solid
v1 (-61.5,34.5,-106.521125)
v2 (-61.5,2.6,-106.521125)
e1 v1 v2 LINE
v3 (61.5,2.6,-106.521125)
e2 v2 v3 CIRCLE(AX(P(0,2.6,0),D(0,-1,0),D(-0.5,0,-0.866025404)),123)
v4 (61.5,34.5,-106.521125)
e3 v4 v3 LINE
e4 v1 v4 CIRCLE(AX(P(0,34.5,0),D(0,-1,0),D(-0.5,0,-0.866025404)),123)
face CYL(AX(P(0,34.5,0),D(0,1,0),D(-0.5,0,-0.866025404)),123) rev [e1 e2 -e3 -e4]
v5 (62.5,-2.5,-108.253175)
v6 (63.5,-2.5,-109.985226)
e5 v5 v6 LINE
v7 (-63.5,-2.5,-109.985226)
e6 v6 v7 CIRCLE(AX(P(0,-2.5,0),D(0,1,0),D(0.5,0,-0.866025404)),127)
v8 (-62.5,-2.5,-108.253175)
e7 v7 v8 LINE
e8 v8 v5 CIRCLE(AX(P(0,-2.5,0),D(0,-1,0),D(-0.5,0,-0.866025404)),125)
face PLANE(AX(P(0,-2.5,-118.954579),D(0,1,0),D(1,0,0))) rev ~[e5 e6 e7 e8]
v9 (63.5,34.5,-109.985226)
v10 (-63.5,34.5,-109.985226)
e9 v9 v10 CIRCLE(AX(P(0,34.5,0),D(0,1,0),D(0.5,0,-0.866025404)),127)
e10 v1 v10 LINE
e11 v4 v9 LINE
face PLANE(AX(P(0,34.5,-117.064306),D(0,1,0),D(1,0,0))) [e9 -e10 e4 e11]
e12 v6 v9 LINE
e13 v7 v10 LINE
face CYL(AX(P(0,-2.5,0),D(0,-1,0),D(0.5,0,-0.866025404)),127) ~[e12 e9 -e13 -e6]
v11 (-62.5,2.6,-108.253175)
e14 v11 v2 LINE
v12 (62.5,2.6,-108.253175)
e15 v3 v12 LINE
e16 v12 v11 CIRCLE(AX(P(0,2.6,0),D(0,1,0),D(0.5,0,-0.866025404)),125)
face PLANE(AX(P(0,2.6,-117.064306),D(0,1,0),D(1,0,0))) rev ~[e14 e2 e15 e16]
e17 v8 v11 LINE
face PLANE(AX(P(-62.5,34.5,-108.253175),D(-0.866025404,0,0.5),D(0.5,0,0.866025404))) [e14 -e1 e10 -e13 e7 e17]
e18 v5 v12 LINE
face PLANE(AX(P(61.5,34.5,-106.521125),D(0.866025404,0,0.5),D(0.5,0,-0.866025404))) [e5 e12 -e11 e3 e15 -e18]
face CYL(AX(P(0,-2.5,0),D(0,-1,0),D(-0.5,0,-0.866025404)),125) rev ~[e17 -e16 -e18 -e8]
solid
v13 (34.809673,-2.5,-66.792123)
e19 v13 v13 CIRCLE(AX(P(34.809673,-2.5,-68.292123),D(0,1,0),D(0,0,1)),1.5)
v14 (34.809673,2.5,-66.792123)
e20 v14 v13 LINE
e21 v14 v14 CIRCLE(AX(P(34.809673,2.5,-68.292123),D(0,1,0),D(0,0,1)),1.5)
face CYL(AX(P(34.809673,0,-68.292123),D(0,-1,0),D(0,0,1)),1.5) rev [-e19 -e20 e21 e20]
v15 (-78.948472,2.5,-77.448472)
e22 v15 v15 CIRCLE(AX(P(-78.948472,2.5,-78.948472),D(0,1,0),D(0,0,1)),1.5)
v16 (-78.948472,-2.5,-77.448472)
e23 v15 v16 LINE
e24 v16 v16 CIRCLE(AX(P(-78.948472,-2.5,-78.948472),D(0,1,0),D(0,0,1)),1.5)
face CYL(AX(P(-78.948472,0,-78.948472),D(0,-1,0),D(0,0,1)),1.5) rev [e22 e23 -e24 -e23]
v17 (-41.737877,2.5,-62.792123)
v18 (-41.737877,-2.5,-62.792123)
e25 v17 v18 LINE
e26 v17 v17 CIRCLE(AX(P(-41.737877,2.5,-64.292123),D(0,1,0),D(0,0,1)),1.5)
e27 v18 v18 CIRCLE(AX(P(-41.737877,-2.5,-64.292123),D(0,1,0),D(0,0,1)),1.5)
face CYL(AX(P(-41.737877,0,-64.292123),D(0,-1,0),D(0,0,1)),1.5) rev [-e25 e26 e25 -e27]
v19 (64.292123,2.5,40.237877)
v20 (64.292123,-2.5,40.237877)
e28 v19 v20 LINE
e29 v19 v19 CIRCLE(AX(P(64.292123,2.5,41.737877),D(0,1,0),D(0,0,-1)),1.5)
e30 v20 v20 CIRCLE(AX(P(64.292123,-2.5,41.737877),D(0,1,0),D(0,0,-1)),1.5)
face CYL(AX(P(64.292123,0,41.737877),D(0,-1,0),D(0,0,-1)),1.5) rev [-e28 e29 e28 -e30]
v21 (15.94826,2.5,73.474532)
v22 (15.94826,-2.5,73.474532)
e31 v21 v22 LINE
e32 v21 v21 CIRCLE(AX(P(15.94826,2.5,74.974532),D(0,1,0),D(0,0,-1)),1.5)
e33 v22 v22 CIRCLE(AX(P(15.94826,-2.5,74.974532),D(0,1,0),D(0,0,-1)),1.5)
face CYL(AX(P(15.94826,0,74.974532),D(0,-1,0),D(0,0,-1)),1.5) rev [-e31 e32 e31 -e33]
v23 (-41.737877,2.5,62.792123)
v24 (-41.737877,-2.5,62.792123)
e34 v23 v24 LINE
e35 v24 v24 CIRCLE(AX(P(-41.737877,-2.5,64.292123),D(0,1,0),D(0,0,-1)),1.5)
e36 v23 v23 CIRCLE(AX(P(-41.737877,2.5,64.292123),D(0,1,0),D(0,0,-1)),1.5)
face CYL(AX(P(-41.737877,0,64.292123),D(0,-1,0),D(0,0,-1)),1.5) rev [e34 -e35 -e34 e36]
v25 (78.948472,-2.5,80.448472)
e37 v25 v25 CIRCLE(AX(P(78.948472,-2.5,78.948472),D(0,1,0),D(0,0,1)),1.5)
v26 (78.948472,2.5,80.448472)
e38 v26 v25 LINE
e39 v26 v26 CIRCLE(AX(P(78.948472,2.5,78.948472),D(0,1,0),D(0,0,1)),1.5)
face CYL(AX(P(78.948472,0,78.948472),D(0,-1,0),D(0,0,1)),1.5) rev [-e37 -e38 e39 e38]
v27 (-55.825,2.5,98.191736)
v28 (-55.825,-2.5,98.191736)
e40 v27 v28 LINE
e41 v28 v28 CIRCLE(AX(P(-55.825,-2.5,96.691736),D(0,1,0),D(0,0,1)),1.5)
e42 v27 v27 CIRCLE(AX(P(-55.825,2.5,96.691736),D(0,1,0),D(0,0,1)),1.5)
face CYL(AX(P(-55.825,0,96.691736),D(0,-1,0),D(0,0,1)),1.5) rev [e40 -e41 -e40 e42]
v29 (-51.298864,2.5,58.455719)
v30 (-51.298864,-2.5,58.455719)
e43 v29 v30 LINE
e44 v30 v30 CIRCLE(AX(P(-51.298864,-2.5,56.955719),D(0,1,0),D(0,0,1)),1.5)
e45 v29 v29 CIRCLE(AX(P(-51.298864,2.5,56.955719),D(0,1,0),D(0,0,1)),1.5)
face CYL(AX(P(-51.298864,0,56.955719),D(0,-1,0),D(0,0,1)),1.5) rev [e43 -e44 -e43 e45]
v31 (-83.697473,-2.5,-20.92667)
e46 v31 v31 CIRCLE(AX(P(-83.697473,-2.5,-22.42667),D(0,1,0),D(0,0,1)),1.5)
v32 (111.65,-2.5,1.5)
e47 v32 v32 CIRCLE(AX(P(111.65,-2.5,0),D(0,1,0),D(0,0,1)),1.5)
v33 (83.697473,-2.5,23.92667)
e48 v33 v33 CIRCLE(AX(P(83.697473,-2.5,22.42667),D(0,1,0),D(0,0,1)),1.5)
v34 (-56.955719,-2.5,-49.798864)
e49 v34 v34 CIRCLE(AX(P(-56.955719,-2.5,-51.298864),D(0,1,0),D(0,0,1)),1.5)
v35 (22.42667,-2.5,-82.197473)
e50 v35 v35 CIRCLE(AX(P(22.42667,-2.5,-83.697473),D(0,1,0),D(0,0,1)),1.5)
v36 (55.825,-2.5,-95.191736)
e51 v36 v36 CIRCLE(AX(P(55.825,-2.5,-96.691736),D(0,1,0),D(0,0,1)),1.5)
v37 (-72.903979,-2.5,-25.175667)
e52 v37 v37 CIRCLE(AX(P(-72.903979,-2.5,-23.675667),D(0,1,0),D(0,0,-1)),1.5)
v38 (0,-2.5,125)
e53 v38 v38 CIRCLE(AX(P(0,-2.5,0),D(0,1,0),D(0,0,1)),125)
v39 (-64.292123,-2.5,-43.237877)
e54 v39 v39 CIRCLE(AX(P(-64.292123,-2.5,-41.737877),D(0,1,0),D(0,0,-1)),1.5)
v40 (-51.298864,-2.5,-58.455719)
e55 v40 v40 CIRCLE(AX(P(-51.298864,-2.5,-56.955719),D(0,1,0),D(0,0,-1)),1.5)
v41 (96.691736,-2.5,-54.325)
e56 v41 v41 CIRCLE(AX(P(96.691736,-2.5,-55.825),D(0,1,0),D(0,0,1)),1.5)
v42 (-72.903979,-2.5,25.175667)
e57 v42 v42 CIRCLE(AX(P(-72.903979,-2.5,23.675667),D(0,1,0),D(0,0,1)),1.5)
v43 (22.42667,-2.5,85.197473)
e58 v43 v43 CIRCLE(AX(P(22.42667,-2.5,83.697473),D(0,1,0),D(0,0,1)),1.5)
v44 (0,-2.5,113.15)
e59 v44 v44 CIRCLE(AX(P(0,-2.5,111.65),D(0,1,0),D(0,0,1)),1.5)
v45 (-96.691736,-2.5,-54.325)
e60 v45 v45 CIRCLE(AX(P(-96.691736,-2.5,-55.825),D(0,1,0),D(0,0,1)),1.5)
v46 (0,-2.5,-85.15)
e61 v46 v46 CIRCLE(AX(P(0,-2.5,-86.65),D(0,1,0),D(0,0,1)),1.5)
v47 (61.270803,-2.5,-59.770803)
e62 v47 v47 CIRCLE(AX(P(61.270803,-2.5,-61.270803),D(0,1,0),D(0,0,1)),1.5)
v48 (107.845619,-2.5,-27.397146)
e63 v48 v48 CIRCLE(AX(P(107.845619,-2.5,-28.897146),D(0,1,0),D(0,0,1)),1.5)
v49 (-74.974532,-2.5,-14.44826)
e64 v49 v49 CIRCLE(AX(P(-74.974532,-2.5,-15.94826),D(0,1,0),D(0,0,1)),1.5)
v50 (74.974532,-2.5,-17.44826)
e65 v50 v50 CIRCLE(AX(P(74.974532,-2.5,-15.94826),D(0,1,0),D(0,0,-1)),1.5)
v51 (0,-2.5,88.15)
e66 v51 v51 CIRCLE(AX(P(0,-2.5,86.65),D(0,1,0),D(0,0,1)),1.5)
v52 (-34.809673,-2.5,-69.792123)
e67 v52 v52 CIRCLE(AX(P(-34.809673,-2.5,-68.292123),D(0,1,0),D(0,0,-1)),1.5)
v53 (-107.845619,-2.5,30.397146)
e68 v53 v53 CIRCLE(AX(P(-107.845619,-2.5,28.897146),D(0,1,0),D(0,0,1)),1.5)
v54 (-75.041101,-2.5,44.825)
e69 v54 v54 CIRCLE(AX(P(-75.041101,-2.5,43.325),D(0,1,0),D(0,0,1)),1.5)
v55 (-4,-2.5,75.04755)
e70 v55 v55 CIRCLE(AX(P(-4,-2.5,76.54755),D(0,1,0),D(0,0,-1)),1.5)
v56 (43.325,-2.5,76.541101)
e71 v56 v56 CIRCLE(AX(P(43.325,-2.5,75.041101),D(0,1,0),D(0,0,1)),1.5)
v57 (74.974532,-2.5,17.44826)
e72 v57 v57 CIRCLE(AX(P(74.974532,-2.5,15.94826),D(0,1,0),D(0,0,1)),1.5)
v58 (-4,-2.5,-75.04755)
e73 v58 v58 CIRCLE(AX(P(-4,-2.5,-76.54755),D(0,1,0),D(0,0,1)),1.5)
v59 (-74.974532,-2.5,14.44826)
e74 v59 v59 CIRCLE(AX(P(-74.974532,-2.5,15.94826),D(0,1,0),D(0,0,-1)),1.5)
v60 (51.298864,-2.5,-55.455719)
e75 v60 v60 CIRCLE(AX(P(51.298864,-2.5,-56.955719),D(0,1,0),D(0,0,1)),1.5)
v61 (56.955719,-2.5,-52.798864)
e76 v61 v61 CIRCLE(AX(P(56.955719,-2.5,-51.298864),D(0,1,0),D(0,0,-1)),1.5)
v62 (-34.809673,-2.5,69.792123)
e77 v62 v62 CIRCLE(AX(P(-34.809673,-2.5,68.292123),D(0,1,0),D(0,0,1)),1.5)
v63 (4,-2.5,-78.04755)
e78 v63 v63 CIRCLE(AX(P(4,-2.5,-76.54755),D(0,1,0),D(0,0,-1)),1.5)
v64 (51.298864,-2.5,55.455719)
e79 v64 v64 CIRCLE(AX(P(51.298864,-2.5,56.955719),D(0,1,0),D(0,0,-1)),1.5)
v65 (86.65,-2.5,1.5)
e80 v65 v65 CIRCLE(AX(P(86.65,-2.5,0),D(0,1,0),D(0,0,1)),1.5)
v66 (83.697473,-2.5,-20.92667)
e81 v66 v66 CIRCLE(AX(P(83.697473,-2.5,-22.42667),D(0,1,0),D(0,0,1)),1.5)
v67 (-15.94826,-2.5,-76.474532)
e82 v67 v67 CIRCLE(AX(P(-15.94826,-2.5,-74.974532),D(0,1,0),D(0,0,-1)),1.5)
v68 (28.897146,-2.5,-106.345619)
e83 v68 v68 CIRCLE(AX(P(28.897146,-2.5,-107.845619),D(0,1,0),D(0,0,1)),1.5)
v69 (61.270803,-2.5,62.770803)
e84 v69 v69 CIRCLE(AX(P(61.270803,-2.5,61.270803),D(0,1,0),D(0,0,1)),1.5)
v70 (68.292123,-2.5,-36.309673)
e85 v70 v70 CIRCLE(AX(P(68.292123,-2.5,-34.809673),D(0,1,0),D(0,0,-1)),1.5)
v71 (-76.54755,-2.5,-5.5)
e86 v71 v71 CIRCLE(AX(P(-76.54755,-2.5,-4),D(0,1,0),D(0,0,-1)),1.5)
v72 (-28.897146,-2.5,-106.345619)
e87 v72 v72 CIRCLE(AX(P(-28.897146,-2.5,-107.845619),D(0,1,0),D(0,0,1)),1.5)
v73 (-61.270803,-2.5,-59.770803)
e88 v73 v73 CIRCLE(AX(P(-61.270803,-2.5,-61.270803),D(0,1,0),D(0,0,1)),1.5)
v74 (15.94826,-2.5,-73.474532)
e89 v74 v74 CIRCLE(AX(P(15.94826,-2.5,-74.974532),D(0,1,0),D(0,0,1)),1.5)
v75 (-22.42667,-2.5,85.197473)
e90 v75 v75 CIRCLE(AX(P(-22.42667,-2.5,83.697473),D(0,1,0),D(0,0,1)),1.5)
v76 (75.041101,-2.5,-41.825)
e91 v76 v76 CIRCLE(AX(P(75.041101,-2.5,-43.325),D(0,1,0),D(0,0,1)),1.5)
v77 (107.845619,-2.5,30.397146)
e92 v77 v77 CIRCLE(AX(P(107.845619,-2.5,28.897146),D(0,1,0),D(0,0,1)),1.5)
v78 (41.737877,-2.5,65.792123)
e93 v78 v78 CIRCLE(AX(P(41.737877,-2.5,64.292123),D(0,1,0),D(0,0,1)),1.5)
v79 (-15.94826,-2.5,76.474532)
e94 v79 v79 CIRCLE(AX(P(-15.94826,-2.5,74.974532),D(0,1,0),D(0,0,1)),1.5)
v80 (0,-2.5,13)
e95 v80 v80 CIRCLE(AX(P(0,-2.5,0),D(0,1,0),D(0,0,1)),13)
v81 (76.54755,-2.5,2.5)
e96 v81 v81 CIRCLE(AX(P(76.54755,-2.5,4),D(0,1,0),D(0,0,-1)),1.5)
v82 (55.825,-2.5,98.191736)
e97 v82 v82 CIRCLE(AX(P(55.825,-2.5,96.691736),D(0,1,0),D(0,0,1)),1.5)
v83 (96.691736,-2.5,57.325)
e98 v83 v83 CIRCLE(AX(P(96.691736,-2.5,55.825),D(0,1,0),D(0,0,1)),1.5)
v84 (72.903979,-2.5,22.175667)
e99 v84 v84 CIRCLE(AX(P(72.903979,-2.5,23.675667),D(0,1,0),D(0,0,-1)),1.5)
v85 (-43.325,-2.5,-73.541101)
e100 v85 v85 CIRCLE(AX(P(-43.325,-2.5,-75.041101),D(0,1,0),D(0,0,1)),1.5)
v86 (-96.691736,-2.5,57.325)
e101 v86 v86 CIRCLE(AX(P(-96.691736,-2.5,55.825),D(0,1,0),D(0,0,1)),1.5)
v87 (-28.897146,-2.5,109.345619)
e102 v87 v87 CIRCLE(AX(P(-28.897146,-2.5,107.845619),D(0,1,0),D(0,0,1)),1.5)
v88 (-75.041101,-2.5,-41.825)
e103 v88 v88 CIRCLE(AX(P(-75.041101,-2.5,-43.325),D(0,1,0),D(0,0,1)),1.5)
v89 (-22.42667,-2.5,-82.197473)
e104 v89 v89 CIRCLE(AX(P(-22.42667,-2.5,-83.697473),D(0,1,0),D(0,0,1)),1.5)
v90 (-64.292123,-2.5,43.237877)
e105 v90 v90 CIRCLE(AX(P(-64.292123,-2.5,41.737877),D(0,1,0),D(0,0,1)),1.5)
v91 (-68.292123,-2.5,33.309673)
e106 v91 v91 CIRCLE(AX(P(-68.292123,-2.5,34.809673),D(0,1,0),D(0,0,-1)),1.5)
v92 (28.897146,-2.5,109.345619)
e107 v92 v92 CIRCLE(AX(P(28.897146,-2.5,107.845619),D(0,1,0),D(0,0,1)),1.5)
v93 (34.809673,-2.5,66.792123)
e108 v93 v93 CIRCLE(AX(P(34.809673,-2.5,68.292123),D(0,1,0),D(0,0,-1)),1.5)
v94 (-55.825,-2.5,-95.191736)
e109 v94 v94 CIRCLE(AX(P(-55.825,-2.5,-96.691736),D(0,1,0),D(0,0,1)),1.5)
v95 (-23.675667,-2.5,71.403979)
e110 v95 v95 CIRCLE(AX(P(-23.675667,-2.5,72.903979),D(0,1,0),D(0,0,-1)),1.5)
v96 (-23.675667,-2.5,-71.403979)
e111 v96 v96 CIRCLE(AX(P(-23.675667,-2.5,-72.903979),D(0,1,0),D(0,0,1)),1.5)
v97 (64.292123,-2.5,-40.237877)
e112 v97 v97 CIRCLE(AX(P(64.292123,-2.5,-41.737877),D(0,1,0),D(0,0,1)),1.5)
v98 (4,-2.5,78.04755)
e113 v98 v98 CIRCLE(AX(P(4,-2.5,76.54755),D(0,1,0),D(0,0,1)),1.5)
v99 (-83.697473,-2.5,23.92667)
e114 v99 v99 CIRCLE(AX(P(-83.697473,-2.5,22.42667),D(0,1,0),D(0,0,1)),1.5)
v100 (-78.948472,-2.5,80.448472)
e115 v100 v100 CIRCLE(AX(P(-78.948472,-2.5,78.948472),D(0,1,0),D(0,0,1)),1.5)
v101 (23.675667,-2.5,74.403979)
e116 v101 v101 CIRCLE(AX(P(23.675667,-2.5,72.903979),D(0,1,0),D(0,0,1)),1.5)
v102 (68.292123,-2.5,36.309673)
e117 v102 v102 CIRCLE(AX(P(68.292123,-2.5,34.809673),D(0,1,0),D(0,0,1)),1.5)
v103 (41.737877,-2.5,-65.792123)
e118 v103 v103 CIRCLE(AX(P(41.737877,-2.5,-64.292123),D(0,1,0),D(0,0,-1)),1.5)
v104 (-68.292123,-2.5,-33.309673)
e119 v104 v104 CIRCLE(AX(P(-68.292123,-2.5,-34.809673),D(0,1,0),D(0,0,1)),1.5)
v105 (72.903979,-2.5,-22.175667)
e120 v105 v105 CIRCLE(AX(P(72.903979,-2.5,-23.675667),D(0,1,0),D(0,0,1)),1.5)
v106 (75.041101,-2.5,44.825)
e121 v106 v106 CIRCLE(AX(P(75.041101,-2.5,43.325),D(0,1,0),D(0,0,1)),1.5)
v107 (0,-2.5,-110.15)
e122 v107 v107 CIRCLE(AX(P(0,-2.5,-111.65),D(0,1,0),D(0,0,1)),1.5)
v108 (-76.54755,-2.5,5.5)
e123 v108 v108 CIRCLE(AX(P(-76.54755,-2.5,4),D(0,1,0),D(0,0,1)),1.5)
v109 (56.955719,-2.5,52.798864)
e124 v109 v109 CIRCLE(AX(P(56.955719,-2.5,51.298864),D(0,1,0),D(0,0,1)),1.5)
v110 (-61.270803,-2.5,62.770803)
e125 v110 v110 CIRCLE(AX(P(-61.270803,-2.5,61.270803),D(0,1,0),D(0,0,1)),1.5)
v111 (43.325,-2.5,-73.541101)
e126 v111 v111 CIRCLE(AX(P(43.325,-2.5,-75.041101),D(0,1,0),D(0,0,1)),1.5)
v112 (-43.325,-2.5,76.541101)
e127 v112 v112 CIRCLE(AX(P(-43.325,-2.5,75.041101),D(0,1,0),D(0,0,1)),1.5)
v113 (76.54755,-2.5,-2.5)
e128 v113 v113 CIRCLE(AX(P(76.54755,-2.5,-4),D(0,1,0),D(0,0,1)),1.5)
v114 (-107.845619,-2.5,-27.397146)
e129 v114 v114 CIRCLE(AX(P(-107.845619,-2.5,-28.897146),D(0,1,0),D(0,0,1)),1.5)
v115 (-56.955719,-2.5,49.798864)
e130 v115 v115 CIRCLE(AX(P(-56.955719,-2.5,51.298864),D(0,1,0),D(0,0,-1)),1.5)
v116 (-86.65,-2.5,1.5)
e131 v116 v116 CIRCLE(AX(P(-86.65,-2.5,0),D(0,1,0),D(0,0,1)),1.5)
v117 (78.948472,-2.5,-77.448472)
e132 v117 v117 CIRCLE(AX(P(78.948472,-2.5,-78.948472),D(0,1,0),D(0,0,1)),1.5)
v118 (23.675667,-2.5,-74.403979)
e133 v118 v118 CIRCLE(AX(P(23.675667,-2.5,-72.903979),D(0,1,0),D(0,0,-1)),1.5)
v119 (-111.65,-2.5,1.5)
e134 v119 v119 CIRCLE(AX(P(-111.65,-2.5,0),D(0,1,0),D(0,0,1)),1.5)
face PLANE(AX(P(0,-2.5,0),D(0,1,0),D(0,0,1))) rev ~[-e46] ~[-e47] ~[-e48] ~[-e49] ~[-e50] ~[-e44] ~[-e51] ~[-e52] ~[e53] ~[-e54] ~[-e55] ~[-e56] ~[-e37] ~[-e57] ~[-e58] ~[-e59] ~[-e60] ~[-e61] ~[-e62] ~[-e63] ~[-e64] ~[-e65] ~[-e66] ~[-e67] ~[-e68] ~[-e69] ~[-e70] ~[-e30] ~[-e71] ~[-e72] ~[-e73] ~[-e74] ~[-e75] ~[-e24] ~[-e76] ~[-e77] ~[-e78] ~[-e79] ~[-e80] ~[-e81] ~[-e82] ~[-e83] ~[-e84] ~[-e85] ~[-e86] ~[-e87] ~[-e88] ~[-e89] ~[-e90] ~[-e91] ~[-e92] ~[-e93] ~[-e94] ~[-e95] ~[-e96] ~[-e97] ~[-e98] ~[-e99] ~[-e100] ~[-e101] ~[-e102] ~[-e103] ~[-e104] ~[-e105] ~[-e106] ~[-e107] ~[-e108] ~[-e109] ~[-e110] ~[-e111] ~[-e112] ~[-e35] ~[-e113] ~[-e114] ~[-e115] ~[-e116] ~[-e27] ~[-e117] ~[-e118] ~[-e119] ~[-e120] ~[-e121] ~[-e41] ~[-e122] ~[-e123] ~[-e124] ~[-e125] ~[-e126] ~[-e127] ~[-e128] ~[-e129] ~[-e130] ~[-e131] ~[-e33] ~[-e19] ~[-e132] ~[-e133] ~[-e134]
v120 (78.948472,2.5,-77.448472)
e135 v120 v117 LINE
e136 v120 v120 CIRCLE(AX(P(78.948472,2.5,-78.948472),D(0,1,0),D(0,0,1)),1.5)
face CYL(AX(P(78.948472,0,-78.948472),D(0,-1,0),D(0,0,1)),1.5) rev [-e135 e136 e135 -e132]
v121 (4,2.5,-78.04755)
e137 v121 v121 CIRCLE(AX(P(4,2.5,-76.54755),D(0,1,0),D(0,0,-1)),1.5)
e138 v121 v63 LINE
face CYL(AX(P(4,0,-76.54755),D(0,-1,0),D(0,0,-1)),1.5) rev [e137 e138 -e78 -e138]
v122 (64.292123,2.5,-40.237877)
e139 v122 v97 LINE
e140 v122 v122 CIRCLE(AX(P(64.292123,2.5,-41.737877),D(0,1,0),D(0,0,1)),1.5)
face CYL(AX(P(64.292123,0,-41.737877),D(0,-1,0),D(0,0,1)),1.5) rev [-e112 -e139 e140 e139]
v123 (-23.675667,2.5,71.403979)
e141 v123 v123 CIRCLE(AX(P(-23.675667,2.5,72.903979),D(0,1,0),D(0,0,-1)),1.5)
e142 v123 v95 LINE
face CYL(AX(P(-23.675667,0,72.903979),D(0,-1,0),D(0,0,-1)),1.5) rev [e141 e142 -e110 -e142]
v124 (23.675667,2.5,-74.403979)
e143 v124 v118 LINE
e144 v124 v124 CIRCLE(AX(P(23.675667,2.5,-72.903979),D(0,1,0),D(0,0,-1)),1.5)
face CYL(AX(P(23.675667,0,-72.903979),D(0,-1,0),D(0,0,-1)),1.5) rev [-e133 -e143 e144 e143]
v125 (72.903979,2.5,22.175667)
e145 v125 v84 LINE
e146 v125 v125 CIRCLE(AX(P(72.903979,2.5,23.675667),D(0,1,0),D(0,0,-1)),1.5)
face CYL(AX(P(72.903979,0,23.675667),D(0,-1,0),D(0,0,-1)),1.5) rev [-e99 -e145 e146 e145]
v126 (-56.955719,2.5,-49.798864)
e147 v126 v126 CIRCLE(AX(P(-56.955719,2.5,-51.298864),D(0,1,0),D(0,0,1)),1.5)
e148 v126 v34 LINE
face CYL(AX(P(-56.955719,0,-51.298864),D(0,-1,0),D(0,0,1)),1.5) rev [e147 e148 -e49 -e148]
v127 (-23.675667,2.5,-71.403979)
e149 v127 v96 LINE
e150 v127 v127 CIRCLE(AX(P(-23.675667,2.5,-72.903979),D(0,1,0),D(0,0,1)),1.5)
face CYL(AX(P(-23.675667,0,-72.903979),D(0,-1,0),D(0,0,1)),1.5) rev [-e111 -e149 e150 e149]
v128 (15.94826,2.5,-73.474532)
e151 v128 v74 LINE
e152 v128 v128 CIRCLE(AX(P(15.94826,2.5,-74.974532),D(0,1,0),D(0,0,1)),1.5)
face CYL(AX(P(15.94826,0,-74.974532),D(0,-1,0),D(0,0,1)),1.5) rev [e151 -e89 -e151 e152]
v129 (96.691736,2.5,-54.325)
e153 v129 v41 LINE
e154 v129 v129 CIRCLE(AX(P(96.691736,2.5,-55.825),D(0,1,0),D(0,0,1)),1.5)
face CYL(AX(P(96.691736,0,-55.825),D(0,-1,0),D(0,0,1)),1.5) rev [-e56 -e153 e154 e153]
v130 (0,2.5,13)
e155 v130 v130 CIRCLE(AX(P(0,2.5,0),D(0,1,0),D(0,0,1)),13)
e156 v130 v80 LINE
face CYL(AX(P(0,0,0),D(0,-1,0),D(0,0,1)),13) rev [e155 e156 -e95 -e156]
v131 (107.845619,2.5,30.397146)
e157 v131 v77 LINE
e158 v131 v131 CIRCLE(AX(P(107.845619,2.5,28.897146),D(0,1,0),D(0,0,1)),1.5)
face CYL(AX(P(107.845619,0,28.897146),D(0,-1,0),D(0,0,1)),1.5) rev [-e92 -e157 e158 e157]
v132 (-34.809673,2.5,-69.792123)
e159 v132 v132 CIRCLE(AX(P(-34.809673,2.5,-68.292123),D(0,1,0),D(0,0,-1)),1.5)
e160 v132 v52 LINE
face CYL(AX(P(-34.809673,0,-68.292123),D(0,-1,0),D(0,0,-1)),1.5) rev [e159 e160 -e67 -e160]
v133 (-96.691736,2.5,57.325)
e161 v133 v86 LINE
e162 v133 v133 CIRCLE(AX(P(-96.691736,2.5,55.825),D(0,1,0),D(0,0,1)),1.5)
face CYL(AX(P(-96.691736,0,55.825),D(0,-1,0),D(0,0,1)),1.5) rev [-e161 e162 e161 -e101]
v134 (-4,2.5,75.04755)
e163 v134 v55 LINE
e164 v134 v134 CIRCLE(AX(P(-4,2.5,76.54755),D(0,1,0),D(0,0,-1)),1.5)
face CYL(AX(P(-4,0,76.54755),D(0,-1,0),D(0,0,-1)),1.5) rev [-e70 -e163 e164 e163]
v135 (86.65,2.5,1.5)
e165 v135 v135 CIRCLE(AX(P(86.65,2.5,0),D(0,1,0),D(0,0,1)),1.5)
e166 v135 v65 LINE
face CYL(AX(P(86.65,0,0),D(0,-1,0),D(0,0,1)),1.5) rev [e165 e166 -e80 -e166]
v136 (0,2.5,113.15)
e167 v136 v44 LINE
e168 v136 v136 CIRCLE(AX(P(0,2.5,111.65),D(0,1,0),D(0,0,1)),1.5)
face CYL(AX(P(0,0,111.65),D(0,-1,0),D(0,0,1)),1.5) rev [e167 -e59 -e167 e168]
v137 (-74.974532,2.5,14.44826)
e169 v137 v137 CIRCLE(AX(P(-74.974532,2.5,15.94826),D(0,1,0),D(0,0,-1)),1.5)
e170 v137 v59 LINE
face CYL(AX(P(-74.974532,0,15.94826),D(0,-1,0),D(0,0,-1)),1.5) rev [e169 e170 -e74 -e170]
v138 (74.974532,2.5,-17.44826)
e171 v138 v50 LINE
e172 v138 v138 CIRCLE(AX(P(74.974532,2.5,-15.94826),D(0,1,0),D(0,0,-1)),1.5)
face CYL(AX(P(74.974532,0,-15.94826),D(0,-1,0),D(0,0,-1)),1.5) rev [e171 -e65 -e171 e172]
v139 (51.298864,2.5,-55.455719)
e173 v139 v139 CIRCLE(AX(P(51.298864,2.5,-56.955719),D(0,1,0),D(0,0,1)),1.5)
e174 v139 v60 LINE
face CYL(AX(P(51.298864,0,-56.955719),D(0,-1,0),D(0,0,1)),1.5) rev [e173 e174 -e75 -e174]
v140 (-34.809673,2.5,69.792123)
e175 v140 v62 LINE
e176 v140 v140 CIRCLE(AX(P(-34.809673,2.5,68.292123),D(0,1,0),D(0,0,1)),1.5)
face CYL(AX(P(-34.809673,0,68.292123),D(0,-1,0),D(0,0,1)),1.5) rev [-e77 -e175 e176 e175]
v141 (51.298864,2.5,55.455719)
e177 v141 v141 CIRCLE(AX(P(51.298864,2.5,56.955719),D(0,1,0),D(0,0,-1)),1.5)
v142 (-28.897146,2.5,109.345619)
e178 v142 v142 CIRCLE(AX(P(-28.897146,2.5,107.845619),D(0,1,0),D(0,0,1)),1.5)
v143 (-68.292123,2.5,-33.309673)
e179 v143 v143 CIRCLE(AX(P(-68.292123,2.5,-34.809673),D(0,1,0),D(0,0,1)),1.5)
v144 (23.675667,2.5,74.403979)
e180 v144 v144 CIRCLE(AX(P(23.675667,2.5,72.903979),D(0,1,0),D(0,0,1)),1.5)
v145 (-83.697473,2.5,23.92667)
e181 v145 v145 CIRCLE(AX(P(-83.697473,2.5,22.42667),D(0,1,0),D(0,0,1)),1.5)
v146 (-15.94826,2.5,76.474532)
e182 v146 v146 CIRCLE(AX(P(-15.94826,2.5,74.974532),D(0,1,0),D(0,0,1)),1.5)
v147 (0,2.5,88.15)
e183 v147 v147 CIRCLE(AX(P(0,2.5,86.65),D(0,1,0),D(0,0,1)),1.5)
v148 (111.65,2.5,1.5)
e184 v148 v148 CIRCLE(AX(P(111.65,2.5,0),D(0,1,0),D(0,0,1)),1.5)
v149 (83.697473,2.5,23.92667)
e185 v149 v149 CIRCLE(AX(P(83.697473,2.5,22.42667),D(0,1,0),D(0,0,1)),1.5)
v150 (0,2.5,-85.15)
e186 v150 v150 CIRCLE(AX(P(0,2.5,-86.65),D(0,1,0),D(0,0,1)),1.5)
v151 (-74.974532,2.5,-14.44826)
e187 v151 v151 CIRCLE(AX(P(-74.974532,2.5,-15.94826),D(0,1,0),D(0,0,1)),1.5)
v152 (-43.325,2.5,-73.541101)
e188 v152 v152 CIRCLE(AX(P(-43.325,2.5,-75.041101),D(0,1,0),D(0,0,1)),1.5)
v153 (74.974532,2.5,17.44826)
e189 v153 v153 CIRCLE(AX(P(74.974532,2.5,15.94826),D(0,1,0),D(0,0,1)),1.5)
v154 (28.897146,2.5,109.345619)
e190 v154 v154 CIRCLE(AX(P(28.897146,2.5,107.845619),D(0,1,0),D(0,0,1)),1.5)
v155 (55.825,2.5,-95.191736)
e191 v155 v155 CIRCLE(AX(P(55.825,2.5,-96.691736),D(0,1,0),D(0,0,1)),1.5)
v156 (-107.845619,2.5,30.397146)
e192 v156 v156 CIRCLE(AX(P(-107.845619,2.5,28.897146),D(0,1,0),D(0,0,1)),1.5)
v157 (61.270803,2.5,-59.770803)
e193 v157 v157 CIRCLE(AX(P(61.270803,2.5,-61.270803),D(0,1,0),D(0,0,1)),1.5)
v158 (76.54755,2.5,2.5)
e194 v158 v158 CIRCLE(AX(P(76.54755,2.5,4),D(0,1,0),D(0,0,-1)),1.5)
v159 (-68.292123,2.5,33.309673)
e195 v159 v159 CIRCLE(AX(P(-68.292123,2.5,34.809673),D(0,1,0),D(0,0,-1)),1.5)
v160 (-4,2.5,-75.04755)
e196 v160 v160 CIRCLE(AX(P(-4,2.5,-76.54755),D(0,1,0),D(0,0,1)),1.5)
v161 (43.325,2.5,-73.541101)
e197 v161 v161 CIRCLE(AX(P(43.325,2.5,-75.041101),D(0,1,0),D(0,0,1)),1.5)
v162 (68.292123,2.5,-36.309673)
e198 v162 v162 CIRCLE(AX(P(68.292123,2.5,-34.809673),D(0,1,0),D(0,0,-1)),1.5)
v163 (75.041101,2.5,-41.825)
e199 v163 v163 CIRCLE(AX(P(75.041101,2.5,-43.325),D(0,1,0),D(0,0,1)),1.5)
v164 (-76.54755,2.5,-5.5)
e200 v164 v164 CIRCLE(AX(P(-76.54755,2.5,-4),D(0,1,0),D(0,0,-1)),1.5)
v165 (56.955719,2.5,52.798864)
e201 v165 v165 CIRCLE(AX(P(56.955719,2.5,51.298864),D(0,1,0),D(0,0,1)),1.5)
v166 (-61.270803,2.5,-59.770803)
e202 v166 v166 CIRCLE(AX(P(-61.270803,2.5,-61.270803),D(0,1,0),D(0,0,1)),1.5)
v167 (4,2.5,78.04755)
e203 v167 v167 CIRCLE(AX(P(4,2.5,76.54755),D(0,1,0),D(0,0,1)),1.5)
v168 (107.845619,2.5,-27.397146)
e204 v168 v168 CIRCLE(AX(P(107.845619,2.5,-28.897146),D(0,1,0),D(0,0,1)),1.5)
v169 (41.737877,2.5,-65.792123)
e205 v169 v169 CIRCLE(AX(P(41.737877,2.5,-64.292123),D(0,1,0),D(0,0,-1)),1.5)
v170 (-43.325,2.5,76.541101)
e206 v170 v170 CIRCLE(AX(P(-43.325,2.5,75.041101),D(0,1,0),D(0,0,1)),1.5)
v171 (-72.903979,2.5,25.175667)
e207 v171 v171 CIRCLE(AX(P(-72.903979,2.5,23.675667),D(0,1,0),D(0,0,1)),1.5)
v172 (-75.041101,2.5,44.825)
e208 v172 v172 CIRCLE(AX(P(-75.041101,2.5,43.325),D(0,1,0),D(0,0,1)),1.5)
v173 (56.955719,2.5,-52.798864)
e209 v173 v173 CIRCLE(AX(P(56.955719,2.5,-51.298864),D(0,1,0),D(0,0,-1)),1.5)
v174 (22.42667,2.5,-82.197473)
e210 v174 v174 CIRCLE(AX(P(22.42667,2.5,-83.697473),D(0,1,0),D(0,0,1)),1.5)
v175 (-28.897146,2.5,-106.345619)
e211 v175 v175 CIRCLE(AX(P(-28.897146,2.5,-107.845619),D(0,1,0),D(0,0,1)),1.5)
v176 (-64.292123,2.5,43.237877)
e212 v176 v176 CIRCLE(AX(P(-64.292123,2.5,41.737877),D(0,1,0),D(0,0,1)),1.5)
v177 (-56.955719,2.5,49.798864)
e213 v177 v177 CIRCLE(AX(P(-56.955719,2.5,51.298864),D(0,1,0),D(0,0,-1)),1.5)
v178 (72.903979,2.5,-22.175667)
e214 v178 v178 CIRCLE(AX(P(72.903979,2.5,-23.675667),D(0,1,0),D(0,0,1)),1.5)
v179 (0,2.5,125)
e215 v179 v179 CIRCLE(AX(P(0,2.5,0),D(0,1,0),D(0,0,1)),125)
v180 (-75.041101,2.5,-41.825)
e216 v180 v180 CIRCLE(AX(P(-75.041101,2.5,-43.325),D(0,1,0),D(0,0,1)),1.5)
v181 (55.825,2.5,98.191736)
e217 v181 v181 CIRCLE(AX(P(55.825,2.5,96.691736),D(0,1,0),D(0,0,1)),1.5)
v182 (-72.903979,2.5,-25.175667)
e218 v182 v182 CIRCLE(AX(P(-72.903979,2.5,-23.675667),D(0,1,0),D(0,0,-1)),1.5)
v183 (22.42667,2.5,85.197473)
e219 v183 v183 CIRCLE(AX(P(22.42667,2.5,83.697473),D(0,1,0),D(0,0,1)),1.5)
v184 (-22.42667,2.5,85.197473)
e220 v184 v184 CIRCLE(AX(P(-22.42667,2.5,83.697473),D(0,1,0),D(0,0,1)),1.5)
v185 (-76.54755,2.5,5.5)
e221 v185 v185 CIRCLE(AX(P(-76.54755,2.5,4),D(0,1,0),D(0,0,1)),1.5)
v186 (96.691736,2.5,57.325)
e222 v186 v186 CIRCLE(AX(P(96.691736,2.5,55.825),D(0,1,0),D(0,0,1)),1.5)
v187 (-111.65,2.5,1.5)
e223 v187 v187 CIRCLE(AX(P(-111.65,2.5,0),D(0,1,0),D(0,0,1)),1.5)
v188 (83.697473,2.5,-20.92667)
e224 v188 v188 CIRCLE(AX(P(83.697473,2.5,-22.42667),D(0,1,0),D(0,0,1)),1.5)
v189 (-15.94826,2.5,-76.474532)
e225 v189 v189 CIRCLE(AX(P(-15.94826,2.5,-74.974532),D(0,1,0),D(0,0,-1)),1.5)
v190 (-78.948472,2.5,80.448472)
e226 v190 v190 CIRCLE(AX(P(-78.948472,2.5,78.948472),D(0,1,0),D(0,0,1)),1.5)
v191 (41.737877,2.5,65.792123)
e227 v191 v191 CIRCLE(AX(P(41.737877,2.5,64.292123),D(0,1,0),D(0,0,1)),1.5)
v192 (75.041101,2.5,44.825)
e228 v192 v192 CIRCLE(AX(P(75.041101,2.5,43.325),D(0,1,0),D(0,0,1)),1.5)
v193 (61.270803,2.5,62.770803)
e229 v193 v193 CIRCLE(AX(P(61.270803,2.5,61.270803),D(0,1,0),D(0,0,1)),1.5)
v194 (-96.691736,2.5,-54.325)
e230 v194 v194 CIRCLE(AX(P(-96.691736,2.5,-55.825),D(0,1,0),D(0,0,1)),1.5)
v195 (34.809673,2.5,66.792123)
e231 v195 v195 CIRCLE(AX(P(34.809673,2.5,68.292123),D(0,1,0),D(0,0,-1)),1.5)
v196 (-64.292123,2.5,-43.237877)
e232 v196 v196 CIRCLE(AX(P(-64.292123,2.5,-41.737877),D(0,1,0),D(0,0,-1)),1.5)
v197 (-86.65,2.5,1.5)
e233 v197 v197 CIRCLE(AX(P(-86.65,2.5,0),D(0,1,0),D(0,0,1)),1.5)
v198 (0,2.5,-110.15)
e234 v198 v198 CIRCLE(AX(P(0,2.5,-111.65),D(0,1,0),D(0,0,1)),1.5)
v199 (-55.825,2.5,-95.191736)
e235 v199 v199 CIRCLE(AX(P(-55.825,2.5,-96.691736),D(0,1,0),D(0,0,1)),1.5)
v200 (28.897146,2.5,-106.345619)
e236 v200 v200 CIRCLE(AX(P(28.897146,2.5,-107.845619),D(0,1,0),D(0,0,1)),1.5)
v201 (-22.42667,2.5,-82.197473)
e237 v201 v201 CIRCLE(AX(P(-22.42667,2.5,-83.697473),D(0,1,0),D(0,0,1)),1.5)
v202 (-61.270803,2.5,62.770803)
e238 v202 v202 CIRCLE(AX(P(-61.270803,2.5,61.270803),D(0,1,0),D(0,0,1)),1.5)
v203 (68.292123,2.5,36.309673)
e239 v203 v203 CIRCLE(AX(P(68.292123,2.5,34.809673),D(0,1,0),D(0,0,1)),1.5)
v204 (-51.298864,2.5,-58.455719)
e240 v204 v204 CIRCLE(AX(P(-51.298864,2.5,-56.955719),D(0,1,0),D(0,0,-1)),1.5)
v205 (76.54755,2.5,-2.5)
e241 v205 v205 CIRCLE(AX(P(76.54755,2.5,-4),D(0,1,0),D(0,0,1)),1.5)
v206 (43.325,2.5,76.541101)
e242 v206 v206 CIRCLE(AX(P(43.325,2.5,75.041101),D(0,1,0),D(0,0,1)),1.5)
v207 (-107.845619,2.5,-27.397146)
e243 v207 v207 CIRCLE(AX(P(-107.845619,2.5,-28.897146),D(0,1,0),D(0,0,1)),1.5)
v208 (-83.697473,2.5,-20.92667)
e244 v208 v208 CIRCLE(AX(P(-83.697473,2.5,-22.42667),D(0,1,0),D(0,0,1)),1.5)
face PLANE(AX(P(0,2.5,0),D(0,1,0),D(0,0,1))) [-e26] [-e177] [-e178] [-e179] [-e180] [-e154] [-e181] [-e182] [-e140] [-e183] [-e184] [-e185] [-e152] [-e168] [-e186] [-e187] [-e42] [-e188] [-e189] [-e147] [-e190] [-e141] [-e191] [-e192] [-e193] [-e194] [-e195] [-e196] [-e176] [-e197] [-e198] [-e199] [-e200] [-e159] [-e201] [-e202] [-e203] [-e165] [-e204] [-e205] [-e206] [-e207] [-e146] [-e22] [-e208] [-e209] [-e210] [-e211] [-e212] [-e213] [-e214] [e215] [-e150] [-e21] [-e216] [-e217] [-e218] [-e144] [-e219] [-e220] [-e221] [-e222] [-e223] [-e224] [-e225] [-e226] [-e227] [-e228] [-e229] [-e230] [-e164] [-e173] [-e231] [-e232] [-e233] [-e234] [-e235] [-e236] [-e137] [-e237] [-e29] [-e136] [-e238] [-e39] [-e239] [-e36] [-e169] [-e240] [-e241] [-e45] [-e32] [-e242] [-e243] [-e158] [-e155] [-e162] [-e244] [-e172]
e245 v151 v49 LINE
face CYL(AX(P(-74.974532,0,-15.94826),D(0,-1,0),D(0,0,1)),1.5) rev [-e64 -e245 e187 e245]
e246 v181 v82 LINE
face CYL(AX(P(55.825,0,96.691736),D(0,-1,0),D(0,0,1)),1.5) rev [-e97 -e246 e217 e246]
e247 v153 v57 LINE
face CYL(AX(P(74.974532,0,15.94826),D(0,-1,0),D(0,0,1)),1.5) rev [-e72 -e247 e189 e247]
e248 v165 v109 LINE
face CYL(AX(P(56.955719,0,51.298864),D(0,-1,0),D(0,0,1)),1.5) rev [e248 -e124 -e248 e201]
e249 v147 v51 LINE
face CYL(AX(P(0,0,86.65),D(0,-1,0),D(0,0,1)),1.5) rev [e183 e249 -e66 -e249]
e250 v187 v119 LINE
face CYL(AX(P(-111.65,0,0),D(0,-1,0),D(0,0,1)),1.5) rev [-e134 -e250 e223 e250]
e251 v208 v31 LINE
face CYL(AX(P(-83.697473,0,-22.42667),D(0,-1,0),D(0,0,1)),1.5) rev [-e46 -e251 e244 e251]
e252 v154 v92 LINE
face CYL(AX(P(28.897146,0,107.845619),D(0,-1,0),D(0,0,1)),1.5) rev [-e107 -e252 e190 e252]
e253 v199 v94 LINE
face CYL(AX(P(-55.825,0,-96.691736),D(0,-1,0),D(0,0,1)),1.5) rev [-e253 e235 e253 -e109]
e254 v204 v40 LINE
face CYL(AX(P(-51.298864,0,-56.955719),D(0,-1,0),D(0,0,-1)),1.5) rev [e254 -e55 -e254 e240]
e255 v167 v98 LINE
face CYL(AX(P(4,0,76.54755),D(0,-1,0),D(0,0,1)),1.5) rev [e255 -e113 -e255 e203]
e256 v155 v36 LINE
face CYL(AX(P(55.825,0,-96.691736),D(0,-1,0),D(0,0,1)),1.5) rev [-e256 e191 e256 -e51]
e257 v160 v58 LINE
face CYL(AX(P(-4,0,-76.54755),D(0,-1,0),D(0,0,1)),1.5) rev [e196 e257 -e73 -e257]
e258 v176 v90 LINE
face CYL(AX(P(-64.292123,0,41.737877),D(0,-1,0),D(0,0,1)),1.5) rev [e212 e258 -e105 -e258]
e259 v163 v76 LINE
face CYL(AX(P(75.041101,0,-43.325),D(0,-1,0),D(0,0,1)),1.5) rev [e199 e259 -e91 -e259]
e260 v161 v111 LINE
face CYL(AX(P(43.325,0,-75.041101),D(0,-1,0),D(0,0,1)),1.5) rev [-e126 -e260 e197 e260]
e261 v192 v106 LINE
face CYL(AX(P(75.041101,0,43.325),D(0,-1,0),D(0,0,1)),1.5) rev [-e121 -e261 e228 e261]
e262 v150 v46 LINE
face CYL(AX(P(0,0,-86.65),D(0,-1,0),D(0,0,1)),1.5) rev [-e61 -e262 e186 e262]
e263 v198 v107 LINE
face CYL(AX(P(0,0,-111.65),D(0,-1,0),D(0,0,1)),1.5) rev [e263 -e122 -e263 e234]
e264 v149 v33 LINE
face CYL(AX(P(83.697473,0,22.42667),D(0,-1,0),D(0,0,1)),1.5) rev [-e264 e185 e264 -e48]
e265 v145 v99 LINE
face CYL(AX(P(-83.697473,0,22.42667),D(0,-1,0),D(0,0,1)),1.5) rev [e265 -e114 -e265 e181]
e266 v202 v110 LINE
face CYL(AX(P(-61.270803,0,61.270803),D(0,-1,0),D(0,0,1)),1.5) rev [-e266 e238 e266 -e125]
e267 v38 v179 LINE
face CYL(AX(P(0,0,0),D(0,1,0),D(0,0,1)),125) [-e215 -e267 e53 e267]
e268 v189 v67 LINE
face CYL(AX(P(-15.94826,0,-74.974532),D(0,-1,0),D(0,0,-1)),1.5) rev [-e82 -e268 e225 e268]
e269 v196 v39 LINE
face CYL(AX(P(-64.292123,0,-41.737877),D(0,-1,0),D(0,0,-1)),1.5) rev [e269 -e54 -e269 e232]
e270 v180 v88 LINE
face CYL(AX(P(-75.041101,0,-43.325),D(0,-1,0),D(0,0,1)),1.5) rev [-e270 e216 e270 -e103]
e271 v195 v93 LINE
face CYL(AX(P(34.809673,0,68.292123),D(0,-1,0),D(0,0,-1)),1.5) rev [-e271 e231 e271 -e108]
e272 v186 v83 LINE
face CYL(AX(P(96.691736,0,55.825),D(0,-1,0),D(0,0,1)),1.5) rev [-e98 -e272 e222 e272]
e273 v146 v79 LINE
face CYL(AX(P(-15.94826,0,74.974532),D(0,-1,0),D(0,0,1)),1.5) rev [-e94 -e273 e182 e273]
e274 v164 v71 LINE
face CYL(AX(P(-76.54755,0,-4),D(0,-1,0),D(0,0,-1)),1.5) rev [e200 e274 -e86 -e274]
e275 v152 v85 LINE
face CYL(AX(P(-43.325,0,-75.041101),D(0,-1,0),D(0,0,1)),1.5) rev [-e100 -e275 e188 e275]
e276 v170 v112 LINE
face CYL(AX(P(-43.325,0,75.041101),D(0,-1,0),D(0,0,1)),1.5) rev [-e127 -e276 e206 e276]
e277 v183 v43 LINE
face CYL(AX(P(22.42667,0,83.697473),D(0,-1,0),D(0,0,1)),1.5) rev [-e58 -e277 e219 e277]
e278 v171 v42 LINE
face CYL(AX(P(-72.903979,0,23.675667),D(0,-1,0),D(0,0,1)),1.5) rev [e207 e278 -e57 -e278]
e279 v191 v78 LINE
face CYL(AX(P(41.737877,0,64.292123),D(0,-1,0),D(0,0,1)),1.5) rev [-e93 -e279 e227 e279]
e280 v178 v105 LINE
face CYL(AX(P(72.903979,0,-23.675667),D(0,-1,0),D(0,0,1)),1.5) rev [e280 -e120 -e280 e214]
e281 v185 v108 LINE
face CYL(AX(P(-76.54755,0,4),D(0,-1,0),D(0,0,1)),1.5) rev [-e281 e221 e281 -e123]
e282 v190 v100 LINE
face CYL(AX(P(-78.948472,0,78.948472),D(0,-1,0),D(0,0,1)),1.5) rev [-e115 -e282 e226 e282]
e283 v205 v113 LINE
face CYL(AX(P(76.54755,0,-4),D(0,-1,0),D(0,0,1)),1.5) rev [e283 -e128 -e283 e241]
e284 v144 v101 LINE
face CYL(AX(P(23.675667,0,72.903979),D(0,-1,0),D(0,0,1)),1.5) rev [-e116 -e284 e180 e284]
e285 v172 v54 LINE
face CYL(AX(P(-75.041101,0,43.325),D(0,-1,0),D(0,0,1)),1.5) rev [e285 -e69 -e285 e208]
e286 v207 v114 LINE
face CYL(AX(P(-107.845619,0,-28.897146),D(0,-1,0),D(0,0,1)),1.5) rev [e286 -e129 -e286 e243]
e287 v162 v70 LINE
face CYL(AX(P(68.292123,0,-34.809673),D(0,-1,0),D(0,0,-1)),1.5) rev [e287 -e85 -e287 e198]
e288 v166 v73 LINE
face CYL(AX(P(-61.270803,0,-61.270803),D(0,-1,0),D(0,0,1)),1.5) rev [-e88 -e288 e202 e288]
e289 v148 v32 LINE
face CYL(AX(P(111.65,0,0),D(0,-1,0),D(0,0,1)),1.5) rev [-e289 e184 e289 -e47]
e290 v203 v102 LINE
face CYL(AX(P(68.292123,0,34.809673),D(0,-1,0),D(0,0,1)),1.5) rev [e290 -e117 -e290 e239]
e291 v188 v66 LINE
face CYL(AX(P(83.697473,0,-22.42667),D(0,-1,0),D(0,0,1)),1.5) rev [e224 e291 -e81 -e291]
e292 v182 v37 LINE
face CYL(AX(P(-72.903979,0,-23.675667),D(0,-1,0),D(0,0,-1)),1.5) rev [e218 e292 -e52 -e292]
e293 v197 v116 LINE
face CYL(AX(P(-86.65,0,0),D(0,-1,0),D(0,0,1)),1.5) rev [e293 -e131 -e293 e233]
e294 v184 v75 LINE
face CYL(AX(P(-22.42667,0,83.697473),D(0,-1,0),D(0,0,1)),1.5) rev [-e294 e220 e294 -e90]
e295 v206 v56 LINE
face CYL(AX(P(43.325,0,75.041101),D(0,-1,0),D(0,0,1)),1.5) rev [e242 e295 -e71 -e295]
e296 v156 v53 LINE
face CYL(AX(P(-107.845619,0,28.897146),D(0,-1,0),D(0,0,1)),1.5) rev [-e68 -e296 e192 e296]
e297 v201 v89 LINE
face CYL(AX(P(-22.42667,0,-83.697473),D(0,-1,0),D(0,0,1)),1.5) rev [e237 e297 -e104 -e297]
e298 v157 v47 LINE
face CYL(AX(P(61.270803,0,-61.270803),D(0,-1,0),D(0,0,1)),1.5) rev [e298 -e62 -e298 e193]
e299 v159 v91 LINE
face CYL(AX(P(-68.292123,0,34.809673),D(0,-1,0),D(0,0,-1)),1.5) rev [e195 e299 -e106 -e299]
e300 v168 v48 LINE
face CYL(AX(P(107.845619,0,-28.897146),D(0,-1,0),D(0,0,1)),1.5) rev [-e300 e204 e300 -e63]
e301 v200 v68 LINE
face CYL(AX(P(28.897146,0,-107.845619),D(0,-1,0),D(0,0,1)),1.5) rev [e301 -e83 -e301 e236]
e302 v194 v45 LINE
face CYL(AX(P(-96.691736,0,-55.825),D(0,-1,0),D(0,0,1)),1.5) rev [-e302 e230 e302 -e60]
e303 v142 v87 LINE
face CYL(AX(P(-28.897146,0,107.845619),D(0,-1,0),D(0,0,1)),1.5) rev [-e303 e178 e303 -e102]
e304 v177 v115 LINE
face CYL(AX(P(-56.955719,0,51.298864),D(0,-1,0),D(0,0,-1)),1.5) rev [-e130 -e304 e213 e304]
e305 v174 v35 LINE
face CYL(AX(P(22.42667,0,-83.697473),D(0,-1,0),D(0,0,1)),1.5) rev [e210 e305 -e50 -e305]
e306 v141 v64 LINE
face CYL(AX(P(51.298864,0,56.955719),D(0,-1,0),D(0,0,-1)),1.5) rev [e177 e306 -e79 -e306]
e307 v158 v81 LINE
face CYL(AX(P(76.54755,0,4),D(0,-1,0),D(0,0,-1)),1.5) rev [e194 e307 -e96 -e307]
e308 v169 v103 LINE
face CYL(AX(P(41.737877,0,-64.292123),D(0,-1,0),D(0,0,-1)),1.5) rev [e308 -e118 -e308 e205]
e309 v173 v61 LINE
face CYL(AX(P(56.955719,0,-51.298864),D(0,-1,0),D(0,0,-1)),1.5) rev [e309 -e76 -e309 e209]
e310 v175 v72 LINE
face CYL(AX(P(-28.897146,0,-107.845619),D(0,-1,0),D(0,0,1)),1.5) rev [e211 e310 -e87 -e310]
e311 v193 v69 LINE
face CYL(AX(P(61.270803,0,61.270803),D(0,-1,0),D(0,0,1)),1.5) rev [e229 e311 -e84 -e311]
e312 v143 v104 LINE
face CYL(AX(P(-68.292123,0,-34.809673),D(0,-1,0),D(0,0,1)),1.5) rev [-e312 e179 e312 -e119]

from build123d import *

# Parameters (mm, degrees)
SKETCH1_R                = 125
SKETCH1_R_2              = 1.5
SKETCH1_R_3              = 13
BOSS_EXTRUDE1_DEPTH      = 2.5
BOSS_EXTRUDE2_DEPTH      = 32
BOSS_EXTRUDE2_DEPTH_BACK = 5
BOSS_EXTRUDE3_START      = 32
BOSS_EXTRUDE3_DEPTH      = 31.9


with BuildPart() as part:
    # Sketch1 → Boss-Extrude1 (new, symmetric)
    with BuildSketch(Plane(origin=(0, 0, 0), x_dir=(1, 0, 0), z_dir=(0, 1, 0))):
        with Locations(Location((0, 0, 0), (0, 0, 270))):
            Circle(SKETCH1_R)
        with Locations(Location((-4, 76.547549861, 0), (0, 0, 270))):
            Circle(SKETCH1_R_2, mode=Mode.SUBTRACT)
        with Locations(Location((4, 76.547549861, 0), (0, 0, 90))):
            Circle(SKETCH1_R_2, mode=Mode.SUBTRACT)
        with Locations(Location((15.948260455, 74.97453153, 0), (0, 0, 270))):
            Circle(SKETCH1_R_2, mode=Mode.SUBTRACT)
        with Locations(Location((23.675667065, 72.903979169, 0), (0, 0, 90))):
            Circle(SKETCH1_R_2, mode=Mode.SUBTRACT)
        with Locations(Location((34.809673315, 68.292122777, 0), (0, 0, 270))):
            Circle(SKETCH1_R_2, mode=Mode.SUBTRACT)
        with Locations(Location((41.737876545, 64.292122777, 0), (0, 0, 90))):
            Circle(SKETCH1_R_2, mode=Mode.SUBTRACT)
        with Locations(Location((51.298864465, 56.955718714, 0), (0, 0, 270))):
            Circle(SKETCH1_R_2, mode=Mode.SUBTRACT)
        with Locations(Location((56.955718714, 51.298864465, 0), (0, 0, 90))):
            Circle(SKETCH1_R_2, mode=Mode.SUBTRACT)
        with Locations(Location((64.292122777, 41.737876545, 0), (0, 0, 270))):
            Circle(SKETCH1_R_2, mode=Mode.SUBTRACT)
        with Locations(Location((68.292122777, 34.809673315, 0), (0, 0, 90))):
            Circle(SKETCH1_R_2, mode=Mode.SUBTRACT)
        with Locations(Location((72.903979169, 23.675667065, 0), (0, 0, 270))):
            Circle(SKETCH1_R_2, mode=Mode.SUBTRACT)
        with Locations(Location((74.97453153, 15.948260455, 0), (0, 0, 90))):
            Circle(SKETCH1_R_2, mode=Mode.SUBTRACT)
        with Locations(Location((76.547549861, 4, 0), (0, 0, 270))):
            Circle(SKETCH1_R_2, mode=Mode.SUBTRACT)
        with Locations(Location((76.547549861, -4, 0), (0, 0, 90))):
            Circle(SKETCH1_R_2, mode=Mode.SUBTRACT)
        with Locations(Location((74.97453153, -15.948260455, 0), (0, 0, 270))):
            Circle(SKETCH1_R_2, mode=Mode.SUBTRACT)
        with Locations(Location((72.903979169, -23.675667065, 0), (0, 0, 90))):
            Circle(SKETCH1_R_2, mode=Mode.SUBTRACT)
        with Locations(Location((68.292122777, -34.809673315, 0), (0, 0, 270))):
            Circle(SKETCH1_R_2, mode=Mode.SUBTRACT)
        with Locations(Location((64.292122777, -41.737876545, 0), (0, 0, 90))):
            Circle(SKETCH1_R_2, mode=Mode.SUBTRACT)
        with Locations(Location((56.955718714, -51.298864465, 0), (0, 0, 270))):
            Circle(SKETCH1_R_2, mode=Mode.SUBTRACT)
        with Locations(Location((51.298864465, -56.955718714, 0), (0, 0, 90))):
            Circle(SKETCH1_R_2, mode=Mode.SUBTRACT)
        with Locations(Location((41.737876545, -64.292122777, 0), (0, 0, 270))):
            Circle(SKETCH1_R_2, mode=Mode.SUBTRACT)
        with Locations(Location((34.809673315, -68.292122777, 0), (0, 0, 90))):
            Circle(SKETCH1_R_2, mode=Mode.SUBTRACT)
        with Locations(Location((23.675667065, -72.903979169, 0), (0, 0, 270))):
            Circle(SKETCH1_R_2, mode=Mode.SUBTRACT)
        with Locations(Location((15.948260455, -74.97453153, 0), (0, 0, 90))):
            Circle(SKETCH1_R_2, mode=Mode.SUBTRACT)
        with Locations(Location((4, -76.547549861, 0), (0, 0, 270))):
            Circle(SKETCH1_R_2, mode=Mode.SUBTRACT)
        with Locations(Location((-4, -76.547549861, 0), (0, 0, 90))):
            Circle(SKETCH1_R_2, mode=Mode.SUBTRACT)
        with Locations(Location((-15.948260455, -74.97453153, 0), (0, 0, 270))):
            Circle(SKETCH1_R_2, mode=Mode.SUBTRACT)
        with Locations(Location((-23.675667065, -72.903979169, 0), (0, 0, 90))):
            Circle(SKETCH1_R_2, mode=Mode.SUBTRACT)
        with Locations(Location((-34.809673315, -68.292122777, 0), (0, 0, 270))):
            Circle(SKETCH1_R_2, mode=Mode.SUBTRACT)
        with Locations(Location((-41.737876545, -64.292122777, 0), (0, 0, 90))):
            Circle(SKETCH1_R_2, mode=Mode.SUBTRACT)
        with Locations(Location((-51.298864465, -56.955718714, 0), (0, 0, 270))):
            Circle(SKETCH1_R_2, mode=Mode.SUBTRACT)
        with Locations(Location((-56.955718714, -51.298864465, 0), (0, 0, 90))):
            Circle(SKETCH1_R_2, mode=Mode.SUBTRACT)
        with Locations(Location((-64.292122777, -41.737876545, 0), (0, 0, 270))):
            Circle(SKETCH1_R_2, mode=Mode.SUBTRACT)
        with Locations(Location((-68.292122777, -34.809673315, 0), (0, 0, 90))):
            Circle(SKETCH1_R_2, mode=Mode.SUBTRACT)
        with Locations(Location((-72.903979169, -23.675667065, 0), (0, 0, 270))):
            Circle(SKETCH1_R_2, mode=Mode.SUBTRACT)
        with Locations(Location((-74.97453153, -15.948260455, 0), (0, 0, 90))):
            Circle(SKETCH1_R_2, mode=Mode.SUBTRACT)
        with Locations(Location((-76.54754986, -4, 0), (0, 0, 270))):
            Circle(SKETCH1_R_2, mode=Mode.SUBTRACT)
        with Locations(Location((-76.54754986, 4, 0), (0, 0, 90))):
            Circle(SKETCH1_R_2, mode=Mode.SUBTRACT)
        with Locations(Location((-74.97453153, 15.948260455, 0), (0, 0, 270))):
            Circle(SKETCH1_R_2, mode=Mode.SUBTRACT)
        with Locations(Location((-72.903979169, 23.675667065, 0), (0, 0, 90))):
            Circle(SKETCH1_R_2, mode=Mode.SUBTRACT)
        with Locations(Location((-68.292122777, 34.809673315, 0), (0, 0, 270))):
            Circle(SKETCH1_R_2, mode=Mode.SUBTRACT)
        with Locations(Location((-64.292122777, 41.737876545, 0), (0, 0, 90))):
            Circle(SKETCH1_R_2, mode=Mode.SUBTRACT)
        with Locations(Location((-56.955718714, 51.298864465, 0), (0, 0, 270))):
            Circle(SKETCH1_R_2, mode=Mode.SUBTRACT)
        with Locations(Location((-51.298864465, 56.955718714, 0), (0, 0, 90))):
            Circle(SKETCH1_R_2, mode=Mode.SUBTRACT)
        with Locations(Location((-41.737876545, 64.292122777, 0), (0, 0, 270))):
            Circle(SKETCH1_R_2, mode=Mode.SUBTRACT)
        with Locations(Location((-34.809673315, 68.292122777, 0), (0, 0, 90))):
            Circle(SKETCH1_R_2, mode=Mode.SUBTRACT)
        with Locations(Location((-23.675667065, 72.903979169, 0), (0, 0, 270))):
            Circle(SKETCH1_R_2, mode=Mode.SUBTRACT)
        with Locations(Location((-15.948260455, 74.97453153, 0), (0, 0, 90))):
            Circle(SKETCH1_R_2, mode=Mode.SUBTRACT)
        with Locations(Location((0, 0, 0), (0, 0, 270))):
            Circle(SKETCH1_R_3, mode=Mode.SUBTRACT)
        with Locations(Location((86.65, 0, 0), (0, 0, 270))):
            Circle(SKETCH1_R_2, mode=Mode.SUBTRACT)
        with Locations(Location((111.65, 0, 0), (0, 0, 270))):
            Circle(SKETCH1_R_2, mode=Mode.SUBTRACT)
        with Locations(Location((107.845618505, -28.897146386, 0), (0, 0, 270))):
            Circle(SKETCH1_R_2, mode=Mode.SUBTRACT)
        with Locations(Location((96.691736333, -55.825, 0), (0, 0, 270))):
            Circle(SKETCH1_R_2, mode=Mode.SUBTRACT)
        with Locations(Location((78.948472119, -78.948472119, 0), (0, 0, 270))):
            Circle(SKETCH1_R_2, mode=Mode.SUBTRACT)
        with Locations(Location((55.825, -96.691736333, 0), (0, 0, 270))):
            Circle(SKETCH1_R_2, mode=Mode.SUBTRACT)
        with Locations(Location((28.897146386, -107.845618505, 0), (0, 0, 270))):
            Circle(SKETCH1_R_2, mode=Mode.SUBTRACT)
        with Locations(Location((0, -111.65, 0), (0, 0, 270))):
            Circle(SKETCH1_R_2, mode=Mode.SUBTRACT)
        with Locations(Location((-28.897146386, -107.845618505, 0), (0, 0, 270))):
            Circle(SKETCH1_R_2, mode=Mode.SUBTRACT)
        with Locations(Location((-55.825, -96.691736333, 0), (0, 0, 270))):
            Circle(SKETCH1_R_2, mode=Mode.SUBTRACT)
        with Locations(Location((-78.948472119, -78.948472119, 0), (0, 0, 270))):
            Circle(SKETCH1_R_2, mode=Mode.SUBTRACT)
        with Locations(Location((-96.691736333, -55.825, 0), (0, 0, 270))):
            Circle(SKETCH1_R_2, mode=Mode.SUBTRACT)
        with Locations(Location((-107.845618505, -28.897146386, 0), (0, 0, 270))):
            Circle(SKETCH1_R_2, mode=Mode.SUBTRACT)
        with Locations(Location((-111.65, 0, 0), (0, 0, 270))):
            Circle(SKETCH1_R_2, mode=Mode.SUBTRACT)
        with Locations(Location((-107.845618505, 28.897146386, 0), (0, 0, 270))):
            Circle(SKETCH1_R_2, mode=Mode.SUBTRACT)
        with Locations(Location((-96.691736333, 55.825, 0), (0, 0, 270))):
            Circle(SKETCH1_R_2, mode=Mode.SUBTRACT)
        with Locations(Location((-78.948472119, 78.948472119, 0), (0, 0, 270))):
            Circle(SKETCH1_R_2, mode=Mode.SUBTRACT)
        with Locations(Location((-55.825, 96.691736333, 0), (0, 0, 270))):
            Circle(SKETCH1_R_2, mode=Mode.SUBTRACT)
        with Locations(Location((-28.897146386, 107.845618505, 0), (0, 0, 270))):
            Circle(SKETCH1_R_2, mode=Mode.SUBTRACT)
        with Locations(Location((0, 111.65, 0), (0, 0, 270))):
            Circle(SKETCH1_R_2, mode=Mode.SUBTRACT)
        with Locations(Location((28.897146386, 107.845618505, 0), (0, 0, 270))):
            Circle(SKETCH1_R_2, mode=Mode.SUBTRACT)
        with Locations(Location((55.825, 96.691736333, 0), (0, 0, 270))):
            Circle(SKETCH1_R_2, mode=Mode.SUBTRACT)
        with Locations(Location((78.948472119, 78.948472119, 0), (0, 0, 270))):
            Circle(SKETCH1_R_2, mode=Mode.SUBTRACT)
        with Locations(Location((96.691736333, 55.825, 0), (0, 0, 270))):
            Circle(SKETCH1_R_2, mode=Mode.SUBTRACT)
        with Locations(Location((107.845618505, 28.897146386, 0), (0, 0, 270))):
            Circle(SKETCH1_R_2, mode=Mode.SUBTRACT)
        with Locations(Location((83.697472848, -22.426670258, 0), (0, 0, 270))):
            Circle(SKETCH1_R_2, mode=Mode.SUBTRACT)
        with Locations(Location((75.041101238, -43.325, 0), (0, 0, 270))):
            Circle(SKETCH1_R_2, mode=Mode.SUBTRACT)
        with Locations(Location((61.27080259, -61.27080259, 0), (0, 0, 270))):
            Circle(SKETCH1_R_2, mode=Mode.SUBTRACT)
        with Locations(Location((43.325, -75.041101238, 0), (0, 0, 270))):
            Circle(SKETCH1_R_2, mode=Mode.SUBTRACT)
        with Locations(Location((22.426670258, -83.697472848, 0), (0, 0, 270))):
            Circle(SKETCH1_R_2, mode=Mode.SUBTRACT)
        with Locations(Location((0, -86.65, 0), (0, 0, 270))):
            Circle(SKETCH1_R_2, mode=Mode.SUBTRACT)
        with Locations(Location((-22.426670258, -83.697472848, 0), (0, 0, 270))):
            Circle(SKETCH1_R_2, mode=Mode.SUBTRACT)
        with Locations(Location((-43.325, -75.041101238, 0), (0, 0, 270))):
            Circle(SKETCH1_R_2, mode=Mode.SUBTRACT)
        with Locations(Location((-61.27080259, -61.27080259, 0), (0, 0, 270))):
            Circle(SKETCH1_R_2, mode=Mode.SUBTRACT)
        with Locations(Location((-75.041101238, -43.325, 0), (0, 0, 270))):
            Circle(SKETCH1_R_2, mode=Mode.SUBTRACT)
        with Locations(Location((-83.697472848, -22.426670258, 0), (0, 0, 270))):
            Circle(SKETCH1_R_2, mode=Mode.SUBTRACT)
        with Locations(Location((-86.65, 0, 0), (0, 0, 270))):
            Circle(SKETCH1_R_2, mode=Mode.SUBTRACT)
        with Locations(Location((-83.697472848, 22.426670258, 0), (0, 0, 270))):
            Circle(SKETCH1_R_2, mode=Mode.SUBTRACT)
        with Locations(Location((-75.041101238, 43.325, 0), (0, 0, 270))):
            Circle(SKETCH1_R_2, mode=Mode.SUBTRACT)
        with Locations(Location((-61.27080259, 61.27080259, 0), (0, 0, 270))):
            Circle(SKETCH1_R_2, mode=Mode.SUBTRACT)
        with Locations(Location((-43.325, 75.041101238, 0), (0, 0, 270))):
            Circle(SKETCH1_R_2, mode=Mode.SUBTRACT)
        with Locations(Location((-22.426670258, 83.697472848, 0), (0, 0, 270))):
            Circle(SKETCH1_R_2, mode=Mode.SUBTRACT)
        with Locations(Location((0, 86.65, 0), (0, 0, 270))):
            Circle(SKETCH1_R_2, mode=Mode.SUBTRACT)
        with Locations(Location((22.426670258, 83.697472848, 0), (0, 0, 270))):
            Circle(SKETCH1_R_2, mode=Mode.SUBTRACT)
        with Locations(Location((43.325, 75.041101238, 0), (0, 0, 270))):
            Circle(SKETCH1_R_2, mode=Mode.SUBTRACT)
        with Locations(Location((61.27080259, 61.27080259, 0), (0, 0, 270))):
            Circle(SKETCH1_R_2, mode=Mode.SUBTRACT)
        with Locations(Location((75.041101238, 43.325, 0), (0, 0, 270))):
            Circle(SKETCH1_R_2, mode=Mode.SUBTRACT)
        with Locations(Location((83.697472848, 22.426670258, 0), (0, 0, 270))):
            Circle(SKETCH1_R_2, mode=Mode.SUBTRACT)
    extrude(amount=BOSS_EXTRUDE1_DEPTH, both=True)


with BuildPart() as body_2:
    # Sketch2 → Boss-Extrude2 (new, two sides: drawn at the far end of the back side and taken through both)
    with BuildSketch(Plane(origin=(0, 2.5, 0), x_dir=(1, 0, 0), z_dir=(0, 1, 0)).offset(-BOSS_EXTRUDE2_DEPTH_BACK)):
        with BuildLine():
            ThreePointArc((63.5, 109.985226281), (0, 127), (-63.5, 109.985226281))
            Line((-63.5, 109.985226281), (-62.5, 108.253175473))
            ThreePointArc((-62.5, 108.253175473), (0, 125), (62.5, 108.253175473))
            Line((62.5, 108.253175473), (63.5, 109.985226281))
        make_face()
    extrude(amount=BOSS_EXTRUDE2_DEPTH + BOSS_EXTRUDE2_DEPTH_BACK)

    # Sketch2<3> → Boss-Extrude3 (add)
    with BuildSketch(Plane(origin=(0, 2.5, 0), x_dir=(1, 0, 0), z_dir=(0, 1, 0)).offset(BOSS_EXTRUDE3_START)):
        with BuildLine():
            ThreePointArc((62.5, 108.253175473), (0, 125), (-62.5, 108.253175473))
            Line((-62.5, 108.253175473), (-61.5, 106.521124665))
            ThreePointArc((-61.5, 106.521124665), (0, 123), (61.5, 106.521124665))
            Line((61.5, 106.521124665), (62.5, 108.253175473))
        make_face()
    extrude(amount=-BOSS_EXTRUDE3_DEPTH)


solid = Compound([part.part, body_2.part])
